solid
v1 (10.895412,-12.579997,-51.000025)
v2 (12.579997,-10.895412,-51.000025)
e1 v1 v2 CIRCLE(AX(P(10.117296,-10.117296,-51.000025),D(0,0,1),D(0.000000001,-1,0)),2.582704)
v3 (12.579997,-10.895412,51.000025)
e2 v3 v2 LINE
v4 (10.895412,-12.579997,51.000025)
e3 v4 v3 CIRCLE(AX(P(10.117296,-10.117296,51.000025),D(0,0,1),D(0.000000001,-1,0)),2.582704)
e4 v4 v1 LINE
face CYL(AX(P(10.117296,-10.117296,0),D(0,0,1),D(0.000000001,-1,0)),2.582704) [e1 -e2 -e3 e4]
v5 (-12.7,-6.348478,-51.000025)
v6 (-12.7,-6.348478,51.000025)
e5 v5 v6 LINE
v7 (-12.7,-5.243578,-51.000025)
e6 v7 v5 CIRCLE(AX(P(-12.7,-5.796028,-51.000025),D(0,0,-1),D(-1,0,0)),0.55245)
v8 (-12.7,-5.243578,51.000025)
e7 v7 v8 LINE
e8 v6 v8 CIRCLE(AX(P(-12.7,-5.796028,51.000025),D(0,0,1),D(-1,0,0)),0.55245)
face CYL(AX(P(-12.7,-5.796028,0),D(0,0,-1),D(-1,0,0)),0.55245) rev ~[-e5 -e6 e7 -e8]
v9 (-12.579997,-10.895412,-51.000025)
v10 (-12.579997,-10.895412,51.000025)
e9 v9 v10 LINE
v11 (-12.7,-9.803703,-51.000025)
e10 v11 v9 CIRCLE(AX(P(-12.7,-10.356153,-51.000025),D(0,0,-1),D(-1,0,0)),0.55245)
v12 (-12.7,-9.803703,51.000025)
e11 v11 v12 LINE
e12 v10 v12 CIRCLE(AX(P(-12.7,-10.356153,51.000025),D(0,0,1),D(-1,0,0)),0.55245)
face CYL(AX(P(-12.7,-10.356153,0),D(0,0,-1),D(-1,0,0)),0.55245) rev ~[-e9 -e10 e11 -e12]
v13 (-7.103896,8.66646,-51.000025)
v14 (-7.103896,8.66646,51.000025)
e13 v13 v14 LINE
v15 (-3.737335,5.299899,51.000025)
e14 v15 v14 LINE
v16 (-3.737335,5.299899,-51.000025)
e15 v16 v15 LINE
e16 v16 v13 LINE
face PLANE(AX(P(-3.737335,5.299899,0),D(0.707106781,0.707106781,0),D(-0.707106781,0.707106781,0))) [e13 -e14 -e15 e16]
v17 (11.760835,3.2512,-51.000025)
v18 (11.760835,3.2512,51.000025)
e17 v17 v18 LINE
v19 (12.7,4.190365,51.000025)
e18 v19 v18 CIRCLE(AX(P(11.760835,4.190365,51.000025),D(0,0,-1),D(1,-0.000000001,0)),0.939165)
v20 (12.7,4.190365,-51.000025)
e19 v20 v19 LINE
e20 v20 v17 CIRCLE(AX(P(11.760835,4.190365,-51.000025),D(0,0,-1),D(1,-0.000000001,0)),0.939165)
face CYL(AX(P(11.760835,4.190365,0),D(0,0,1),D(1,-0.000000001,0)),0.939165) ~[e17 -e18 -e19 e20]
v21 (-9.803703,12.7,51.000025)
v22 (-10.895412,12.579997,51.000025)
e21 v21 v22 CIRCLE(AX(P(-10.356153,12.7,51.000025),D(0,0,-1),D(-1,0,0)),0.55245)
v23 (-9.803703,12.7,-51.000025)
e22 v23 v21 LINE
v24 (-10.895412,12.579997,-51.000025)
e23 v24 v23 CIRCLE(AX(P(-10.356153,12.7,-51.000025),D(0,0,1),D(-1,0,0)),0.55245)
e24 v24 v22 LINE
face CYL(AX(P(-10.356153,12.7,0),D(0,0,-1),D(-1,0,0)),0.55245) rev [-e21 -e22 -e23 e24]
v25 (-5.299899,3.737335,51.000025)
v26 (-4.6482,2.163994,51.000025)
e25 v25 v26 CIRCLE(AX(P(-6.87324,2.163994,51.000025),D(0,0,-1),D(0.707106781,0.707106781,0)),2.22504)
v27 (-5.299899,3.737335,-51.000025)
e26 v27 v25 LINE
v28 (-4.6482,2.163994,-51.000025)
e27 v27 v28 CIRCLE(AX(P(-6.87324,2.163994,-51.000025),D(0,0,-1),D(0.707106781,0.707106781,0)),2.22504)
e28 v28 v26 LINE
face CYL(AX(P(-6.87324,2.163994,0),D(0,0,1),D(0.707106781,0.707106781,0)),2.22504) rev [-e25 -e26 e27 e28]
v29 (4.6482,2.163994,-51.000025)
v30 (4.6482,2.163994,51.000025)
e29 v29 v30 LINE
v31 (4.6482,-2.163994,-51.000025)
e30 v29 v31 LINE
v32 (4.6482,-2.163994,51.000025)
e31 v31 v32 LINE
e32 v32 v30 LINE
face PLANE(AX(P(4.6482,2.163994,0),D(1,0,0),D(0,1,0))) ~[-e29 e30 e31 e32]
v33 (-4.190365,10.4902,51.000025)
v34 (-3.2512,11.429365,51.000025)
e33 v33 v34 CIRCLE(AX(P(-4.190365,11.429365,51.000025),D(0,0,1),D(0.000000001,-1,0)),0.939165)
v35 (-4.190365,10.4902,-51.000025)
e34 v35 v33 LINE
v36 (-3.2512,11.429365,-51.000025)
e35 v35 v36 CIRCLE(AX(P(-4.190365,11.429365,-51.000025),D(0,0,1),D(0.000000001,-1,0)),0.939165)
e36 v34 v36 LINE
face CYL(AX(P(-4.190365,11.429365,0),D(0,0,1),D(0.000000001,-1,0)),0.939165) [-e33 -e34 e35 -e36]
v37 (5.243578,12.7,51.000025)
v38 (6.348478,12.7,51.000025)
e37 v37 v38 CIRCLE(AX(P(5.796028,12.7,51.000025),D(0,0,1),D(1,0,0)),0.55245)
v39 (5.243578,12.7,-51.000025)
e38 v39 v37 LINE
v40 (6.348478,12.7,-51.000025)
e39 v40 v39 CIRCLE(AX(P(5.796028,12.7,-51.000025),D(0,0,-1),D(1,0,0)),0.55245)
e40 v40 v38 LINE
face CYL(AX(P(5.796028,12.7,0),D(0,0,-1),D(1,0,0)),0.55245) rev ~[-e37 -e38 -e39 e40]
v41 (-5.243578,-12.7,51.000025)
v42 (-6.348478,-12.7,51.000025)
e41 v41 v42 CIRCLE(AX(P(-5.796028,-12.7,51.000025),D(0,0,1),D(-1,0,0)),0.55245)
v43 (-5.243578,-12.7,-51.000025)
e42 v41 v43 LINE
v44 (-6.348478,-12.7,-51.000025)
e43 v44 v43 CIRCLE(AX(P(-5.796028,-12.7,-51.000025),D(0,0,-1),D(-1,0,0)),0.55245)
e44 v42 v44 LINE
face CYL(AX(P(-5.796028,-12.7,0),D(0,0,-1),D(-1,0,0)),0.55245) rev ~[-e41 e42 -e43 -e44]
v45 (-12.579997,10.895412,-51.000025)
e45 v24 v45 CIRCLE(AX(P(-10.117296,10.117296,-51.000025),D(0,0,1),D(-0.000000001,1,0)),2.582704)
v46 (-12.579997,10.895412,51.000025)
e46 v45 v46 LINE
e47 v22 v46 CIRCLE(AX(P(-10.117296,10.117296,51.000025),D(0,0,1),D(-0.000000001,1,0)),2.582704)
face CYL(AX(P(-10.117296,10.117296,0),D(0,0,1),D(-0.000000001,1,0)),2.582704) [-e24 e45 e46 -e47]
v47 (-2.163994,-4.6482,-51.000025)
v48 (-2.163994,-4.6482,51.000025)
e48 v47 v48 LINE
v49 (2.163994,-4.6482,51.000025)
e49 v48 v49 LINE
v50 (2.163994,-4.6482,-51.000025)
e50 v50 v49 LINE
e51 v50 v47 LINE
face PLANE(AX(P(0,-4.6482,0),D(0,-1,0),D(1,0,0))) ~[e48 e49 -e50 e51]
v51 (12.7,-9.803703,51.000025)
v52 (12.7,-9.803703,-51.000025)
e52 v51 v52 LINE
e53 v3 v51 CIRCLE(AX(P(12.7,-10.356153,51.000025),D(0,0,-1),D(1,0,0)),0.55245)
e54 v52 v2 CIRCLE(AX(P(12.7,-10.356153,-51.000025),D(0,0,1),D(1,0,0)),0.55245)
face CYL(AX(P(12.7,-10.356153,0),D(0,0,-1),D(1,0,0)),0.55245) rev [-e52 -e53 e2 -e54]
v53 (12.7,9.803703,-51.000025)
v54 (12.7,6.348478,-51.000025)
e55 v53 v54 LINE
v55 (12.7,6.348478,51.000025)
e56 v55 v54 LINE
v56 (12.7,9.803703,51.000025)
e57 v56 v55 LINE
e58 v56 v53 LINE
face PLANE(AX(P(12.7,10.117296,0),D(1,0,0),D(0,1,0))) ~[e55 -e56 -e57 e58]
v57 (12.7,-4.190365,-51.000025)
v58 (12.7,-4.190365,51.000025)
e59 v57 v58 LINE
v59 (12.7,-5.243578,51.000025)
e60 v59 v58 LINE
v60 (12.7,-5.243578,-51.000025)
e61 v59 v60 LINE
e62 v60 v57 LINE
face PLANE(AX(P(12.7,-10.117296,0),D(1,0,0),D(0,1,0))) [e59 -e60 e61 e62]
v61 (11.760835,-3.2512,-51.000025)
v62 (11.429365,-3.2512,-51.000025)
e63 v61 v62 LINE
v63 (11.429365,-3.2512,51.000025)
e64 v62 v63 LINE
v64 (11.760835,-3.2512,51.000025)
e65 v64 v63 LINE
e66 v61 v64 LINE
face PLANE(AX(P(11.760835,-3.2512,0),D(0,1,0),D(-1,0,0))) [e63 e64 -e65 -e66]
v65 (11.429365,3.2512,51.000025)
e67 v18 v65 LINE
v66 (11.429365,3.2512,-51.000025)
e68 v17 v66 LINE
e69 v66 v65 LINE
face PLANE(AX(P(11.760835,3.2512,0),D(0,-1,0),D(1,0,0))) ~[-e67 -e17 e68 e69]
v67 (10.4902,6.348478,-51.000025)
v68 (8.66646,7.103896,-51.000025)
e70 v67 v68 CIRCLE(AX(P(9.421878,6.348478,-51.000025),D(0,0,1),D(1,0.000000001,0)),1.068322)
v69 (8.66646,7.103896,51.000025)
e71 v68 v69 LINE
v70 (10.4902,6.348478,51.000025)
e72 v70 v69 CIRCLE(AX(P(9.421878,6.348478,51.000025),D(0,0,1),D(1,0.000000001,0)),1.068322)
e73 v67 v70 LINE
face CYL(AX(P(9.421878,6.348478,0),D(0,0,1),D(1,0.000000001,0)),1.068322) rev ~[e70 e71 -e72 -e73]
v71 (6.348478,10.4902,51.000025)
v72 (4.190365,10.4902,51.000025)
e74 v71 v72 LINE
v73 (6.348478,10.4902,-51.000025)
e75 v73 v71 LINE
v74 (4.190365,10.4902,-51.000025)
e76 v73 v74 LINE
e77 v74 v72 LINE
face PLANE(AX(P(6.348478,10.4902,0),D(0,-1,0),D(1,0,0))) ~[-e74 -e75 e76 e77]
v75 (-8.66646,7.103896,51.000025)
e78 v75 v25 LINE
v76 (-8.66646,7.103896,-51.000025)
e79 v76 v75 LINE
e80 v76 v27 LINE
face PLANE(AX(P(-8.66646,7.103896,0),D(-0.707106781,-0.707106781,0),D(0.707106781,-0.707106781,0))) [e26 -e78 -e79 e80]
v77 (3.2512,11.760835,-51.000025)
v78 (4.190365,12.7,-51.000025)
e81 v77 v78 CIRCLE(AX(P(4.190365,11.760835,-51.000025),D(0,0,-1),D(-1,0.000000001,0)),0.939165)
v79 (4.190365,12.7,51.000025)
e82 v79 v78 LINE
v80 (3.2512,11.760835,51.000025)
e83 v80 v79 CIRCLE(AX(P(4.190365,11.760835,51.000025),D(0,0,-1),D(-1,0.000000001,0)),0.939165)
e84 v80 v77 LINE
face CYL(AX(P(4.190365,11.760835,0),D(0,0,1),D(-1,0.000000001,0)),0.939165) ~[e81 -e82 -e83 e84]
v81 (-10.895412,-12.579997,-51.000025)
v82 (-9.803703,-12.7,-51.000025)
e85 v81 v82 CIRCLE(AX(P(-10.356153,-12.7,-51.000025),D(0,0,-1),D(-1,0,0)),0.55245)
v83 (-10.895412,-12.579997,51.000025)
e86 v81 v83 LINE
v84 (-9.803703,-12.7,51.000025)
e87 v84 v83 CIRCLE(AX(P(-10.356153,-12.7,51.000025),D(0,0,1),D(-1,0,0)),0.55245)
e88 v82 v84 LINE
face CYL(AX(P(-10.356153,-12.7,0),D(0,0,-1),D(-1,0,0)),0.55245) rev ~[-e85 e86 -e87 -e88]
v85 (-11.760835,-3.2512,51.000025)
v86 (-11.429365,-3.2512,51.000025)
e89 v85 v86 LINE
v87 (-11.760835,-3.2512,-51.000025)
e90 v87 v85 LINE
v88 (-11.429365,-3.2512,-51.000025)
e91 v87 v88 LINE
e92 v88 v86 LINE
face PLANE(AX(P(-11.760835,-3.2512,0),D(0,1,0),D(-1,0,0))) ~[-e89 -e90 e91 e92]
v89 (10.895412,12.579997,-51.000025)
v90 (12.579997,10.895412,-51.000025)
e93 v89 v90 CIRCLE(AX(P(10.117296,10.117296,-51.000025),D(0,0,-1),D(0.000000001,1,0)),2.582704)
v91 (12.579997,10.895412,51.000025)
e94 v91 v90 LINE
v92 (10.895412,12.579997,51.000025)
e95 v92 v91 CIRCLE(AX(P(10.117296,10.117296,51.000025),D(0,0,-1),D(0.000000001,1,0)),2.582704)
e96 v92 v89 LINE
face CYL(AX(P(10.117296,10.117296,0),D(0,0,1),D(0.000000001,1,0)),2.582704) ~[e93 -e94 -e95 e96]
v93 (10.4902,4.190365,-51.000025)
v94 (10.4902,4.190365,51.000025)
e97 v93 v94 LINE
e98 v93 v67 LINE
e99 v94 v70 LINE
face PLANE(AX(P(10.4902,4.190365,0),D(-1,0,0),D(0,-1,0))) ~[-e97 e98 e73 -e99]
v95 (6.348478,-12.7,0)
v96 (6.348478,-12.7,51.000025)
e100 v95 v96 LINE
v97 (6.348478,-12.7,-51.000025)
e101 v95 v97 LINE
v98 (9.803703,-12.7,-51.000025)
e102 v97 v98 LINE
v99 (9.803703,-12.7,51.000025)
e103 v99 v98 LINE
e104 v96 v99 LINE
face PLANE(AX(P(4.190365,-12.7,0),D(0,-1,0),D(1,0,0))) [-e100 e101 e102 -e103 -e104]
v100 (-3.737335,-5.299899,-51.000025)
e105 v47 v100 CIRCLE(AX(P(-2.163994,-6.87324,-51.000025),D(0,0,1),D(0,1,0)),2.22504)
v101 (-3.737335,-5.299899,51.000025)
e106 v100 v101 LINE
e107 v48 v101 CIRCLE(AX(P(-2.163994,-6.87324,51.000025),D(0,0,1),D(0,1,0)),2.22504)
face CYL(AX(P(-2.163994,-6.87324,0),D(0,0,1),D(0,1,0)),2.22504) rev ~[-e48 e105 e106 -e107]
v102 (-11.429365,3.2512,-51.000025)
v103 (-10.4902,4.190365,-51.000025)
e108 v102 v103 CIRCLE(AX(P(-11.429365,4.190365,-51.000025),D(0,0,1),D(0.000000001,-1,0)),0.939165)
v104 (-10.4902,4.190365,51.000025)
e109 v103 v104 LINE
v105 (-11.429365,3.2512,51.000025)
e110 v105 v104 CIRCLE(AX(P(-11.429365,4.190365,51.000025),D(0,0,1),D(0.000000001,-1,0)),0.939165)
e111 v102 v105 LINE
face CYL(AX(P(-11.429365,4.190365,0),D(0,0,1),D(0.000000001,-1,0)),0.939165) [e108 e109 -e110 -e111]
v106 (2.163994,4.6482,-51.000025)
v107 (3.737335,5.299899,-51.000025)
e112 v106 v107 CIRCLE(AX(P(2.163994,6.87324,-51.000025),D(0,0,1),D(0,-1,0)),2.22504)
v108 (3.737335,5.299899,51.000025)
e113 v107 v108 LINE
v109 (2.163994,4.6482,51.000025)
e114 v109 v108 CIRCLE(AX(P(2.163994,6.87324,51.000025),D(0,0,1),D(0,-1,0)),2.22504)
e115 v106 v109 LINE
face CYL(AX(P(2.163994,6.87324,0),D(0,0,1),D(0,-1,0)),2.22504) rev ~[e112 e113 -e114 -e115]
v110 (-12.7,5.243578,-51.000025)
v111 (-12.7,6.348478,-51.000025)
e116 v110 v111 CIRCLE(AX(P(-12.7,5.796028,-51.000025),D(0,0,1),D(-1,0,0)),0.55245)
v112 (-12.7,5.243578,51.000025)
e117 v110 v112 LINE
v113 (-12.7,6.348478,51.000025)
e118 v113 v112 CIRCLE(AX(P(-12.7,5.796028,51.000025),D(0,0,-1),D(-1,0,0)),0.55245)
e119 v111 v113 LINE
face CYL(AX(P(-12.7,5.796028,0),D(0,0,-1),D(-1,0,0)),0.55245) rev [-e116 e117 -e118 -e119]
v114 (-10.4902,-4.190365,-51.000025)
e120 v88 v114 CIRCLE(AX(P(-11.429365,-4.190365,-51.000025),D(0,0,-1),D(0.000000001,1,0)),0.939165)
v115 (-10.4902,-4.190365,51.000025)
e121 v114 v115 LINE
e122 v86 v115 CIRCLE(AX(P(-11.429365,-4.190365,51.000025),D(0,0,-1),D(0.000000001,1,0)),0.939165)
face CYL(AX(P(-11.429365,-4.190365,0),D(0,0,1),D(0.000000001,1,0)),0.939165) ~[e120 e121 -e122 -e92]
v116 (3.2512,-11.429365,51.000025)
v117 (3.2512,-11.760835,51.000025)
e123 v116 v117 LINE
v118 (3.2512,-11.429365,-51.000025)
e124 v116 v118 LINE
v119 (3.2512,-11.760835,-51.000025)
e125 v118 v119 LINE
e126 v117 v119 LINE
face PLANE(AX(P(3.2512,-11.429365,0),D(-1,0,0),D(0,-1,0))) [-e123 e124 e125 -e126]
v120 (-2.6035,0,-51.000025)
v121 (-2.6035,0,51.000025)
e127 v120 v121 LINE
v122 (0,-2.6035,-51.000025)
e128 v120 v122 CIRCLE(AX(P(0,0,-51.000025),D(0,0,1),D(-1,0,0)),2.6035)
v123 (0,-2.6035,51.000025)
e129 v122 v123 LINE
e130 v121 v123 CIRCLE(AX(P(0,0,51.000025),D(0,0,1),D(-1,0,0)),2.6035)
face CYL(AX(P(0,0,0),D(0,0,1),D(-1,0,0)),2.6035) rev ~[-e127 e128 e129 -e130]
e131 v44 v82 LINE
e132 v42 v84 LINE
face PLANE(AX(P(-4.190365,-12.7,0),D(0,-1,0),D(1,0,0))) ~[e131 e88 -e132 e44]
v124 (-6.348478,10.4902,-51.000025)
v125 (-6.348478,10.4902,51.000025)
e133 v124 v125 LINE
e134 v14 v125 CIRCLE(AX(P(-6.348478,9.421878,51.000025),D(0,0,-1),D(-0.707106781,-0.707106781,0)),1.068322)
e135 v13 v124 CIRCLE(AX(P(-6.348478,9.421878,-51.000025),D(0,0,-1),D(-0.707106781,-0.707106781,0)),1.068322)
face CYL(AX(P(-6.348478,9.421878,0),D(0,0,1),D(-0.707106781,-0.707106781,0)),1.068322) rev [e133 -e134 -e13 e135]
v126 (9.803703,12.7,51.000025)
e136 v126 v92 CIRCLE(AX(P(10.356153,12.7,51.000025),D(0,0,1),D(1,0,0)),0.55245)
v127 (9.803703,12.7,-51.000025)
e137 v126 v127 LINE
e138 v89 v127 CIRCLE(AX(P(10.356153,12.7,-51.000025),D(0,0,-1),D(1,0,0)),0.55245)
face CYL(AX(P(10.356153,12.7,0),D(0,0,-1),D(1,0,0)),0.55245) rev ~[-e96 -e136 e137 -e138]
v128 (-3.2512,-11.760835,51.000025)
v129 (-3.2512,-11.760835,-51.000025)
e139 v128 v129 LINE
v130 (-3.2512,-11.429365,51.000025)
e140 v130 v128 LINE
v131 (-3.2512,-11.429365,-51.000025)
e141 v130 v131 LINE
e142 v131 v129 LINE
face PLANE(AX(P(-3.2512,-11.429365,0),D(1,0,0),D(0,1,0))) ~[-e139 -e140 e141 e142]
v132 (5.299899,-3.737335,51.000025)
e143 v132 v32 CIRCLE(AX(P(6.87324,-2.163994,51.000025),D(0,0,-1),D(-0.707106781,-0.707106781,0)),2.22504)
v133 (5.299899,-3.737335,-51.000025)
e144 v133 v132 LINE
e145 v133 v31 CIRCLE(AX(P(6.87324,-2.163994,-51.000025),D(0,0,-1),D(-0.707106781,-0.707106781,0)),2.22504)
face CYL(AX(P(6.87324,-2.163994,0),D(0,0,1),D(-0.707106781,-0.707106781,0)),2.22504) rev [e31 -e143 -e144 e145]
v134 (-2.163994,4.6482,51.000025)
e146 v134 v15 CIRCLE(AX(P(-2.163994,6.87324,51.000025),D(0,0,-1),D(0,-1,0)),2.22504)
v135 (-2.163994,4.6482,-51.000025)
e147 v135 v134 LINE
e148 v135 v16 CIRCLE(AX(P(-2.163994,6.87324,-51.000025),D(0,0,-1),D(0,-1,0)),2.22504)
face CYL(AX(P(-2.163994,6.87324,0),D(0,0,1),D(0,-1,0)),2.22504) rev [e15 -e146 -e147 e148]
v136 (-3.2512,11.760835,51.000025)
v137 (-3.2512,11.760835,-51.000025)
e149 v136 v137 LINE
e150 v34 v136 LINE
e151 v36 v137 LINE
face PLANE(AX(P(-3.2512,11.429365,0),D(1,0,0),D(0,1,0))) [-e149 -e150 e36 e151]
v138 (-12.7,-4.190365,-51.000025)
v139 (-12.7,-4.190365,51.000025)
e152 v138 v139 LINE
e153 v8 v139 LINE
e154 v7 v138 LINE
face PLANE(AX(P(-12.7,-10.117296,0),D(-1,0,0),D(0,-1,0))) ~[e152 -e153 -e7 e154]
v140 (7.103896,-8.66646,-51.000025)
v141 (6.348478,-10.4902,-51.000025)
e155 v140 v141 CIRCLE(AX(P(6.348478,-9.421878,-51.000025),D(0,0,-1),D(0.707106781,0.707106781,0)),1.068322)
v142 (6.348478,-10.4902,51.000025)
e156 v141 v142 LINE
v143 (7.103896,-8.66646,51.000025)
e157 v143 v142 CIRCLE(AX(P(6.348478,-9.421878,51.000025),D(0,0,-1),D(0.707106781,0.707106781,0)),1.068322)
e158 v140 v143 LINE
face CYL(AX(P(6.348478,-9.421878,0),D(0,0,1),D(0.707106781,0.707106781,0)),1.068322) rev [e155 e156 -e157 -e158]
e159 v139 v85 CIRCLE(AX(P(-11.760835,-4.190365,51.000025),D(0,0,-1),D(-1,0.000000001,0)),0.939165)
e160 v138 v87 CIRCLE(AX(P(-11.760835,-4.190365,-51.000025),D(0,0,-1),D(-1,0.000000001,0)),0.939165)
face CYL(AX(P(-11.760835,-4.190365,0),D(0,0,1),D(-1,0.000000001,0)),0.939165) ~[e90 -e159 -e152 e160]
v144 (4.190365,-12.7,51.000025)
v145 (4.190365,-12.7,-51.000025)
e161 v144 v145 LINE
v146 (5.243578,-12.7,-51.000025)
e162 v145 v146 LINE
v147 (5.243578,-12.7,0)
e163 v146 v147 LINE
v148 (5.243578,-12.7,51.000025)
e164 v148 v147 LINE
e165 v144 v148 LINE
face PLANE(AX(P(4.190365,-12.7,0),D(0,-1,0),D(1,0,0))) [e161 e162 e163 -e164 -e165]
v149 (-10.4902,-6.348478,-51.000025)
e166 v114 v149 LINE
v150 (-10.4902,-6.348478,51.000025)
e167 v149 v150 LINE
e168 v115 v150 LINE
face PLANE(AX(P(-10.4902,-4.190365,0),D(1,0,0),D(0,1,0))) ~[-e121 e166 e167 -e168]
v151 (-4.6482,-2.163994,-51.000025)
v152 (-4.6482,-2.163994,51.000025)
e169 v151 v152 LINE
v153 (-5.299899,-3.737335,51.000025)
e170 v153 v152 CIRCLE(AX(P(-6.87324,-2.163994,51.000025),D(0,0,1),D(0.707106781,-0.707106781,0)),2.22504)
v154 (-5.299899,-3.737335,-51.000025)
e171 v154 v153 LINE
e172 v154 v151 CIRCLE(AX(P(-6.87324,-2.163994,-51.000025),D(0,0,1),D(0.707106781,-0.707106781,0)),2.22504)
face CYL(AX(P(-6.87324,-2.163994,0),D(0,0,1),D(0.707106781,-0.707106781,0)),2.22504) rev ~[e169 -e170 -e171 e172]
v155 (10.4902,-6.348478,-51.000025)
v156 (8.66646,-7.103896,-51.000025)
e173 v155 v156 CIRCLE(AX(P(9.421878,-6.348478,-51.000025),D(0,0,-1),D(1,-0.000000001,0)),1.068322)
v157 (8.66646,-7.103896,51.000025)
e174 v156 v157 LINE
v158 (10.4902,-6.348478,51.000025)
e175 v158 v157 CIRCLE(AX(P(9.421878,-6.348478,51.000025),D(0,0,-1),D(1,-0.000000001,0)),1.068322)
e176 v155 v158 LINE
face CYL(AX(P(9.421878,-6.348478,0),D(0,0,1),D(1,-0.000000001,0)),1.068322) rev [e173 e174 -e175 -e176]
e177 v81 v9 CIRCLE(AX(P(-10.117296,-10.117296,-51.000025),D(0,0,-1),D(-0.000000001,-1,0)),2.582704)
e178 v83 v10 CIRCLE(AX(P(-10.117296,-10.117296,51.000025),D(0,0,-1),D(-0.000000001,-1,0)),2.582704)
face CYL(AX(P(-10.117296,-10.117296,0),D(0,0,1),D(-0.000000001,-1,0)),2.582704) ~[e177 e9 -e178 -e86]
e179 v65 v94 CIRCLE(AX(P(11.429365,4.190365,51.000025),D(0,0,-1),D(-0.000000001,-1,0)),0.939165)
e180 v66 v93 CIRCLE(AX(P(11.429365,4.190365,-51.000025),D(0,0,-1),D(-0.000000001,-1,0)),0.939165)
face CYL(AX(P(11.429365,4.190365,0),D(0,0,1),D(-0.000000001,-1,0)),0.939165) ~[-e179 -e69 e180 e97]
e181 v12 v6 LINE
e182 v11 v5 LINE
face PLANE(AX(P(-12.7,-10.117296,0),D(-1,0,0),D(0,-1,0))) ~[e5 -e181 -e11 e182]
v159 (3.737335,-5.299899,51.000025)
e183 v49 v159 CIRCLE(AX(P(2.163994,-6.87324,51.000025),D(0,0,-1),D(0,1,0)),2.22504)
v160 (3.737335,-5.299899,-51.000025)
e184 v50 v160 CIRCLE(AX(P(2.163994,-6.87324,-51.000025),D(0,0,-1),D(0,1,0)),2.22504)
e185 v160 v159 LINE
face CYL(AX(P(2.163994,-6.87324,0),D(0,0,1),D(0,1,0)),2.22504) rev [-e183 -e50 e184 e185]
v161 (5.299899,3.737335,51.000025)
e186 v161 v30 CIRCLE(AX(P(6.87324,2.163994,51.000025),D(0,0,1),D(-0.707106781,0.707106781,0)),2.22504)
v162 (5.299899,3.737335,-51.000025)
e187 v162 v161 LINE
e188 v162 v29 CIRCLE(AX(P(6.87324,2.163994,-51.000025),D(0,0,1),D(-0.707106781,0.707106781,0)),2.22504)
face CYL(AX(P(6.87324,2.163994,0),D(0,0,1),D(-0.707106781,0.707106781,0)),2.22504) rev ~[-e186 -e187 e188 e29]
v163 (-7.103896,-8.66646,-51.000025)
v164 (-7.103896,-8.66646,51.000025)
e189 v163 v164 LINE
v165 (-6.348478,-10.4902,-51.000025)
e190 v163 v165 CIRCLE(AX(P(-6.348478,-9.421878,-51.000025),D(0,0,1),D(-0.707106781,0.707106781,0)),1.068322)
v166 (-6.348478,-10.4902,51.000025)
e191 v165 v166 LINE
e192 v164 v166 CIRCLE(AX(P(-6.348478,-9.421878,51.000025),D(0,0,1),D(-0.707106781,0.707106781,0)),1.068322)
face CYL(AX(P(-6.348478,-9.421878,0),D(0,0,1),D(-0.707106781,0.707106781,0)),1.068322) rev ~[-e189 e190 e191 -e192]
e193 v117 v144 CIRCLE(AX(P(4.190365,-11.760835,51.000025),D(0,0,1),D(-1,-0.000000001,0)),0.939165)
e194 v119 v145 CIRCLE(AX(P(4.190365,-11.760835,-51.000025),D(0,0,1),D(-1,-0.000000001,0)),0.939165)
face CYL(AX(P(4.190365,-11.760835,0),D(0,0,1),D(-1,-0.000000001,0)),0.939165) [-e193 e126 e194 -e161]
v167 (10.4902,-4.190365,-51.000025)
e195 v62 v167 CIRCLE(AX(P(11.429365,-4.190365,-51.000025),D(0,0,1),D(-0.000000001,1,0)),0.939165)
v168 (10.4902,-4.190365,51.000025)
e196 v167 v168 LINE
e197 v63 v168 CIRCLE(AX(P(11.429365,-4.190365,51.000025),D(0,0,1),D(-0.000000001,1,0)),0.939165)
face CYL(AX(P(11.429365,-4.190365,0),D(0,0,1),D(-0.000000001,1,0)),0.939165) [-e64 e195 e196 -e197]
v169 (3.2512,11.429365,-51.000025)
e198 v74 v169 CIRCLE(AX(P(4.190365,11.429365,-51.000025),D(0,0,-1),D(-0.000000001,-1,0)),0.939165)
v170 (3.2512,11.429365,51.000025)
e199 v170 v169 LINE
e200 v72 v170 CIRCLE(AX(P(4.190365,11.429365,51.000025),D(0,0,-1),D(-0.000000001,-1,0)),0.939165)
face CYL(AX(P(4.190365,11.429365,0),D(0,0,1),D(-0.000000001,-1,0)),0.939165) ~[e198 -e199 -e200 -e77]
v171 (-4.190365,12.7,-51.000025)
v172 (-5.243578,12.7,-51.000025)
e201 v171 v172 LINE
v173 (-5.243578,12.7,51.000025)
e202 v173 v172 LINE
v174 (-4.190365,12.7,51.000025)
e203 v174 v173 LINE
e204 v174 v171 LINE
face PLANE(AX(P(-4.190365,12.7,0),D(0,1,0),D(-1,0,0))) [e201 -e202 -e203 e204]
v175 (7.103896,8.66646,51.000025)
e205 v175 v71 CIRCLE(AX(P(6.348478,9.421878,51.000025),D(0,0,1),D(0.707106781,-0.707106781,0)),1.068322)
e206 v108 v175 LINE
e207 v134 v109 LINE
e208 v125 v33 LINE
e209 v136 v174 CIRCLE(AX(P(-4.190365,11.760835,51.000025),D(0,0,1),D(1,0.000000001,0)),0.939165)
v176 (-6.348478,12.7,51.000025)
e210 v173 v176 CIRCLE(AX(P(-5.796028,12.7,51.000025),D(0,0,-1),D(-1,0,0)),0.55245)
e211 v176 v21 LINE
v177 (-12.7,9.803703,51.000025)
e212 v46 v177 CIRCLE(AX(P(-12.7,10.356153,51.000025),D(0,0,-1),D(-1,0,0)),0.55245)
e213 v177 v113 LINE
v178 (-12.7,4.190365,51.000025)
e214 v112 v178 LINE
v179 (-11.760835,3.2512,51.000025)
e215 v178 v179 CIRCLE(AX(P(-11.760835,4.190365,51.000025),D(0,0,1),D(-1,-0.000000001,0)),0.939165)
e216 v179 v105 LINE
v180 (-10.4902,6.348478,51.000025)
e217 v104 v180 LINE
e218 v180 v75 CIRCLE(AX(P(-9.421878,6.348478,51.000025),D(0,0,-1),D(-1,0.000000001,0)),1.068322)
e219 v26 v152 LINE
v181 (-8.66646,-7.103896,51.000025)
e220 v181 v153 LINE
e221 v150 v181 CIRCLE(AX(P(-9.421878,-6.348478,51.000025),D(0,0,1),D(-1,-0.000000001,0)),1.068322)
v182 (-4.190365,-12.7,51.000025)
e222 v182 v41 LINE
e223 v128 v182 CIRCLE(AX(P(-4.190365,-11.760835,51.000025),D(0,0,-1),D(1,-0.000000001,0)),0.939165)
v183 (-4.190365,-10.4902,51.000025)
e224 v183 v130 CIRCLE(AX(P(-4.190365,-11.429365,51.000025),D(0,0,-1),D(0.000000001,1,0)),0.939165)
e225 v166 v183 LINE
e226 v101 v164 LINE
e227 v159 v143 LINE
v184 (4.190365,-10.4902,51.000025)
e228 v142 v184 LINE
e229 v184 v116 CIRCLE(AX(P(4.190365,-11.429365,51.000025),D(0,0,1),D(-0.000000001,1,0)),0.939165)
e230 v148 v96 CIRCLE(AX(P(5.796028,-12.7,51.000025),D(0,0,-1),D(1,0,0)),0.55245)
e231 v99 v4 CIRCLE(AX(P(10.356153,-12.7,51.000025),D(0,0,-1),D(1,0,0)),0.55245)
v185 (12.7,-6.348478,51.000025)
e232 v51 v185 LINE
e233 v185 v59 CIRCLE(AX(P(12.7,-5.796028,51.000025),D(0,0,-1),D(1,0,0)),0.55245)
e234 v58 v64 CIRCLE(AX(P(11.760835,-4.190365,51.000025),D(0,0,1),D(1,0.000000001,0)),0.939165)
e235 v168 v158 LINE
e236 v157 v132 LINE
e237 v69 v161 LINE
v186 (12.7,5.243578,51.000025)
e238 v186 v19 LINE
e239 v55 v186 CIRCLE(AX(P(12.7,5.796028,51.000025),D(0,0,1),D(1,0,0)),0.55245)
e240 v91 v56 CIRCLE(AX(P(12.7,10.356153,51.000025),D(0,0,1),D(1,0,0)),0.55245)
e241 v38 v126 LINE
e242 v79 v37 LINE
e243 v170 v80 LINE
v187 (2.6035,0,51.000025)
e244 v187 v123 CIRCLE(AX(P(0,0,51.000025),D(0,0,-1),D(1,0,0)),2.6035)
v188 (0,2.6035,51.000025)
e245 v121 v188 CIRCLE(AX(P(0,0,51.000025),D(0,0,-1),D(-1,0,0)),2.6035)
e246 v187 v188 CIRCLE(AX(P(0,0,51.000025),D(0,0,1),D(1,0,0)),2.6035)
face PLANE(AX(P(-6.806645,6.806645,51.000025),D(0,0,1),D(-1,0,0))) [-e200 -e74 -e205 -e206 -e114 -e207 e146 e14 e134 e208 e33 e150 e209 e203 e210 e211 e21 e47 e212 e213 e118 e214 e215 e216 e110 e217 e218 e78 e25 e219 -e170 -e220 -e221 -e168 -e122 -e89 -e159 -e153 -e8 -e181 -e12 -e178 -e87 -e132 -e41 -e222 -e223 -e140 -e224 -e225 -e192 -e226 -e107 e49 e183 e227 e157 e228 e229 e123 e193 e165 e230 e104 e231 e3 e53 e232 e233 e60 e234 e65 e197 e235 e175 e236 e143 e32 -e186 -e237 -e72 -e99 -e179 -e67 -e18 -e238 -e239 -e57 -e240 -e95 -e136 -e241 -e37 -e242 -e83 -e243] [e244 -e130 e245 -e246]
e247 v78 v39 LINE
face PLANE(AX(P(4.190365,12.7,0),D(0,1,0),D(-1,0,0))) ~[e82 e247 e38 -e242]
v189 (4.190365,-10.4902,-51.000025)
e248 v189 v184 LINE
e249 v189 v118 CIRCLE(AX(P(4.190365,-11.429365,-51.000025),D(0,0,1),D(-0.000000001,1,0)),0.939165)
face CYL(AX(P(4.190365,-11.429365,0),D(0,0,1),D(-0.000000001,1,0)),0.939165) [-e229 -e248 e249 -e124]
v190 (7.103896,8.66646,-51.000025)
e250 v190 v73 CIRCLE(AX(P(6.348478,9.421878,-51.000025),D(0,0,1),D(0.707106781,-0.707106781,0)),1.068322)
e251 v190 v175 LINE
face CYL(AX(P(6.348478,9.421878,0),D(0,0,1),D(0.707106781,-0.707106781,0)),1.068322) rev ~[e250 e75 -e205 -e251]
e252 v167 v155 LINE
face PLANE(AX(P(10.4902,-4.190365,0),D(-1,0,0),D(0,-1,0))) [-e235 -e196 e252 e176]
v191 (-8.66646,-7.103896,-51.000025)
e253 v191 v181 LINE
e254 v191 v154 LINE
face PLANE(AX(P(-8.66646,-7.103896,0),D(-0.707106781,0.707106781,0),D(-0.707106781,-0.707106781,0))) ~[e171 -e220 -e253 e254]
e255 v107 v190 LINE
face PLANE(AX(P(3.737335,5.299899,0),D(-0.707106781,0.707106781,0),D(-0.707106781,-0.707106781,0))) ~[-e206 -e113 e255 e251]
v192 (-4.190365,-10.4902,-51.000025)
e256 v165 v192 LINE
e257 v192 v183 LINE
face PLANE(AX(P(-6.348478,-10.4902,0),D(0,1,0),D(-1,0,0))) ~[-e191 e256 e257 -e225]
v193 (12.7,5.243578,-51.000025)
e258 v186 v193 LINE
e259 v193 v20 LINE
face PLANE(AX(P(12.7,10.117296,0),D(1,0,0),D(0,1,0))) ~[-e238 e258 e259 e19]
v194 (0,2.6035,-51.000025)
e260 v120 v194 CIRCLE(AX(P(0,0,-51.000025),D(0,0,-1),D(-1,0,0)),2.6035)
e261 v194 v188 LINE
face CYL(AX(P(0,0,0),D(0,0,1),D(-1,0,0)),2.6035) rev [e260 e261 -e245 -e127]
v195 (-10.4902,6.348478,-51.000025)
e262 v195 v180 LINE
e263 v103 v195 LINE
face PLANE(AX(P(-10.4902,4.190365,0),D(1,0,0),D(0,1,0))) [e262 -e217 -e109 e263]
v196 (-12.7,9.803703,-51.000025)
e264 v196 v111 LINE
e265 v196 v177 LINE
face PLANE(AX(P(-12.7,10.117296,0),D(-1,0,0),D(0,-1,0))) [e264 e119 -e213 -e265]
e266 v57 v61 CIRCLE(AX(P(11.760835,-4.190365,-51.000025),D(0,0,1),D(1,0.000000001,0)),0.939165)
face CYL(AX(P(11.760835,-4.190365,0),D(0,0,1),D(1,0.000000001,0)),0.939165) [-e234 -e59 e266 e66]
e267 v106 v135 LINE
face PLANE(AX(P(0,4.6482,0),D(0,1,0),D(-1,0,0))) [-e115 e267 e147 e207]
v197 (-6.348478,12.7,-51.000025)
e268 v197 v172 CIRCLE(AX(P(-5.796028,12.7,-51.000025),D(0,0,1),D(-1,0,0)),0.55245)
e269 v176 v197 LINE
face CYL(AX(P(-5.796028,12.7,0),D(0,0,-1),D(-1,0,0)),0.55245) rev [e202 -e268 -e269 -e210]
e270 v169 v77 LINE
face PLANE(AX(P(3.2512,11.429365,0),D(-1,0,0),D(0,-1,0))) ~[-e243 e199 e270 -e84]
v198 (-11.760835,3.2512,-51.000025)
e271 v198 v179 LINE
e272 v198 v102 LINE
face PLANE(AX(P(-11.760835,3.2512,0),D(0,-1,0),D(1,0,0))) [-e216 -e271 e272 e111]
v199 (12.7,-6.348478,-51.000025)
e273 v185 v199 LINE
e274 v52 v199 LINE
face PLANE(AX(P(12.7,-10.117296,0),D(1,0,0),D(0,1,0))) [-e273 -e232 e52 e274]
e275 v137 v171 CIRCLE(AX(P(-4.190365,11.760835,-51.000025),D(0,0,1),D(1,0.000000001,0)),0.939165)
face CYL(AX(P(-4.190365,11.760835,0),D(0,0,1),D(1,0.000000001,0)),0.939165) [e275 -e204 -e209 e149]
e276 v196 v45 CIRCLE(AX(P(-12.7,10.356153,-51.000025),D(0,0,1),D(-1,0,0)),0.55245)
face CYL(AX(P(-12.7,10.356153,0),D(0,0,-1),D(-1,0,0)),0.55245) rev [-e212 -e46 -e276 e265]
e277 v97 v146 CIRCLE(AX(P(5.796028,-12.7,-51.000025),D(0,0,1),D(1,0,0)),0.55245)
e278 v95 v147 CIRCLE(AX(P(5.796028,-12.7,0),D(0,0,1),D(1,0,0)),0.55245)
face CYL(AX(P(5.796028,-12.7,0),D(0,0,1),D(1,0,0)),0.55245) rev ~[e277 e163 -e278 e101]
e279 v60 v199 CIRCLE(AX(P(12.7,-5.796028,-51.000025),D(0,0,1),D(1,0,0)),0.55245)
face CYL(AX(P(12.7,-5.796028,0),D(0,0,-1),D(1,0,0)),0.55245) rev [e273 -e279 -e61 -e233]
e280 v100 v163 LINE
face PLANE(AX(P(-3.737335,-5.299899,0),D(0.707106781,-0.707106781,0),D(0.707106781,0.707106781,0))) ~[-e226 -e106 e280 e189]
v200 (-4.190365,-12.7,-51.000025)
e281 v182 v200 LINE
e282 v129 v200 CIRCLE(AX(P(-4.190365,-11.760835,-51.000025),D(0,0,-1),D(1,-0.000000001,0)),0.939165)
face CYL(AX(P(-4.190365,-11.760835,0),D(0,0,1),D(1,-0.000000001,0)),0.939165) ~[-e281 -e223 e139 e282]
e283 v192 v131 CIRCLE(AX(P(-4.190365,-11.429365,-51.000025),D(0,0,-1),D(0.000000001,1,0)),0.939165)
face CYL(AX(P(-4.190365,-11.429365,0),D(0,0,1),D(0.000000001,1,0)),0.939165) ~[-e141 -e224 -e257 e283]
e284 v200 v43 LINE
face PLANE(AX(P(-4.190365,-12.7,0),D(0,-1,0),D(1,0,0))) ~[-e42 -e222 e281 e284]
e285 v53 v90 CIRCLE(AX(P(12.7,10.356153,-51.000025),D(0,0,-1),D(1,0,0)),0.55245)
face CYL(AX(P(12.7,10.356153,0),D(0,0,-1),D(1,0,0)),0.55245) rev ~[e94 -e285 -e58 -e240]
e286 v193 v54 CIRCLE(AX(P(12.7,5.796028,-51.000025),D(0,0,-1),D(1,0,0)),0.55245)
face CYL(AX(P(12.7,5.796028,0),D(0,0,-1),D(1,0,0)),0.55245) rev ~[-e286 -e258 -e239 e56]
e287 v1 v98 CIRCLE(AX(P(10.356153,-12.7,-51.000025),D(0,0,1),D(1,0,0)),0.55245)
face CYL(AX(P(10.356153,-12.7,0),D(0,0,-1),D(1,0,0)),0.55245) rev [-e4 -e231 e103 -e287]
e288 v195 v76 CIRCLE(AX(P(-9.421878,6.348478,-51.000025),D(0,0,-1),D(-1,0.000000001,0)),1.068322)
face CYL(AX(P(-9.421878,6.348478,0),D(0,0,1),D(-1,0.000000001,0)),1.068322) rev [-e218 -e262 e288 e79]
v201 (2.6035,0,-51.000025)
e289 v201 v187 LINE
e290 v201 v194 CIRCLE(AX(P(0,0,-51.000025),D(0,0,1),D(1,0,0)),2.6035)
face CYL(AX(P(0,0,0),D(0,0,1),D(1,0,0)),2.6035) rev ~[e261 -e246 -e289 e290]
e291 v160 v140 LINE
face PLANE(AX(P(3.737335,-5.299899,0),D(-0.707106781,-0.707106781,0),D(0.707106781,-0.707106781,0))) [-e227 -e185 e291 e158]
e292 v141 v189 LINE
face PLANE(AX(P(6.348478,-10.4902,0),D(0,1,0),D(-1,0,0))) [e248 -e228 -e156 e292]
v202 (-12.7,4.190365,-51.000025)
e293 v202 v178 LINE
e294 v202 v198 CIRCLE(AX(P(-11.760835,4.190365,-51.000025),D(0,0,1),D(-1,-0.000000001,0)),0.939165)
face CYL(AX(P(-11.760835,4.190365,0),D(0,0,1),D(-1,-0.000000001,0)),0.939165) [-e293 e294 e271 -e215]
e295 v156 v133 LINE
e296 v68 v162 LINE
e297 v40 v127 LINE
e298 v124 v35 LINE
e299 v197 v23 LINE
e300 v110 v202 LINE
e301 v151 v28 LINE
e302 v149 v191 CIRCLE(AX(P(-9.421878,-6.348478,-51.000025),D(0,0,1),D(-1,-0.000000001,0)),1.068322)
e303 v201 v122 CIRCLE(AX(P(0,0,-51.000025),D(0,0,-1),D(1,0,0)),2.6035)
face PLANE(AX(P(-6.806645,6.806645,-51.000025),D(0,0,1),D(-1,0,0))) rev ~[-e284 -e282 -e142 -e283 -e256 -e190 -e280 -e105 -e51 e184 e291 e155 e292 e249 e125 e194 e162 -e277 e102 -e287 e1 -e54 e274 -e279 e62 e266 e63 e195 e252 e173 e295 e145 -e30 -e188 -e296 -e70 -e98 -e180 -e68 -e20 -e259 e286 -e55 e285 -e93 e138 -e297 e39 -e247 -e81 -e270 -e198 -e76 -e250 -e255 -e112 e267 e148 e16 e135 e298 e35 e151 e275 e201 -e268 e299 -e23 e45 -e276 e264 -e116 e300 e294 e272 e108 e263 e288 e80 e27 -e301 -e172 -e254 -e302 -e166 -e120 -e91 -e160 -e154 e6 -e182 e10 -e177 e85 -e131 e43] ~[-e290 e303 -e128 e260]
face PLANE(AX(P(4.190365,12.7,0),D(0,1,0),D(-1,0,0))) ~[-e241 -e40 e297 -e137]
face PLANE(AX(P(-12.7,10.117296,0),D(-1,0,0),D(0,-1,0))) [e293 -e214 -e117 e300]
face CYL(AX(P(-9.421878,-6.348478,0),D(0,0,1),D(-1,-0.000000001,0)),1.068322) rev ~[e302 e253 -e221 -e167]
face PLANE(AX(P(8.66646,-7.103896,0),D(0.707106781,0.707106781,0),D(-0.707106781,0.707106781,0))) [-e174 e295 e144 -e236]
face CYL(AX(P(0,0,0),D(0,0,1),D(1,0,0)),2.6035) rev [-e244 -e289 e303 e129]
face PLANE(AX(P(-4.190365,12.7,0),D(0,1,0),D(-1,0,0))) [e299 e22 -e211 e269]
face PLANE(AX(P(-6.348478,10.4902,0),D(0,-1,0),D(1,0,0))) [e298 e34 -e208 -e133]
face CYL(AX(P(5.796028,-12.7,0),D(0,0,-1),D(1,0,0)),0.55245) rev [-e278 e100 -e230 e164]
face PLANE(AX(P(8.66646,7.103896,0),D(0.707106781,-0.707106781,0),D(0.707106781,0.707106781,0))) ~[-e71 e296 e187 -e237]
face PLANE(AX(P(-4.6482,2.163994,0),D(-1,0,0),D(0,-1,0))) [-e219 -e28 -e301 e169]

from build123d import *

# Parameters (mm, degrees)
BOSS_EXTRUDE1_DEPTH     = 51.000025
SKETCH5_R               = 0.55245
CUT_EXTRUDE1_DEPTH      = 52.000025
CUT_EXTRUDE1_DEPTH_BACK = 52.000025


with BuildPart() as part:
    # Sketch4 → Boss-Extrude1 (new body, symmetric)
    with BuildSketch(Plane.XY):
        with BuildLine():
            Line((4.190365, -12.7), (10.11729625, -12.7))
            ThreePointArc((10.11729625, -12.7), (11.943543585, -11.943543585), (12.7, -10.11729625))
            Line((12.7, -10.11729625), (12.7, -4.190365))
            ThreePointArc((12.7, -4.190365), (12.42492494, -3.52627506), (11.760835, -3.2512))
            Line((11.760835, -3.2512), (11.429365, -3.2512))
            ThreePointArc((11.429365, -3.2512), (10.76527506, -3.52627506), (10.4902, -4.190365))
            Line((10.4902, -4.190365), (10.4902, -6.348478019))
            ThreePointArc((10.4902, -6.348478019), (9.830707141, -7.335478831), (8.666460301, -7.103895736))
            Line((8.666460301, -7.103895736), (5.299899128, -3.737334563))
            ThreePointArc((5.299899128, -3.737334563), (4.817571085, -3.015479634), (4.6482, -2.16399369))
            Line((4.6482, -2.16399369), (4.6482, 0))
            Line((4.6482, 0), (2.6035, 0))
            ThreePointArc((2.6035, 0), (1.840952505, -1.840952505), (0, -2.6035))
            Line((0, -2.6035), (0, -4.6482))
            Line((0, -4.6482), (2.16399369, -4.6482))
            ThreePointArc((2.16399369, -4.6482), (3.015479634, -4.817571085), (3.737334563, -5.299899128))
            Line((3.737334563, -5.299899128), (7.103895736, -8.666460301))
            ThreePointArc((7.103895736, -8.666460301), (7.335478831, -9.830707141), (6.348478019, -10.4902))
            Line((6.348478019, -10.4902), (4.190365, -10.4902))
            ThreePointArc((4.190365, -10.4902), (3.52627506, -10.76527506), (3.2512, -11.429365))
            Line((3.2512, -11.429365), (3.2512, -11.760835))
            ThreePointArc((3.2512, -11.760835), (3.52627506, -12.42492494), (4.190365, -12.7))
        make_face()
    extrude(amount=BOSS_EXTRUDE1_DEPTH, both=True)

    # Sketch5 → Cut-Extrude1 (cut, two sides)
    with BuildSketch(Plane.XY) as cut_extrude1_sk:
        with Locations((10.356153152, -12.7)):
            Circle(SKETCH5_R)
        with Locations((5.796028019, -12.7)):
            Circle(SKETCH5_R)
        with Locations((12.7, -10.356153152)):
            Circle(SKETCH5_R)
        with Locations((12.7, -5.796028019)):
            Circle(SKETCH5_R)
    extrude(amount=CUT_EXTRUDE1_DEPTH, mode=Mode.SUBTRACT)
    extrude(cut_extrude1_sk.sketch, amount=-CUT_EXTRUDE1_DEPTH_BACK, mode=Mode.SUBTRACT)

    # Mirror1: part across plane


with BuildPart() as part_1:
    add(part.part)
    add(part.part.mirror(Plane(origin=(0, 0, 0), x_dir=(0, 0, 1), z_dir=(1, 0, 0))))

    # Mirror2: part across plane


with BuildPart() as part_2:
    add(part_1.part)
    add(part_1.part.mirror(Plane.ZX))


solid = part_2.part
